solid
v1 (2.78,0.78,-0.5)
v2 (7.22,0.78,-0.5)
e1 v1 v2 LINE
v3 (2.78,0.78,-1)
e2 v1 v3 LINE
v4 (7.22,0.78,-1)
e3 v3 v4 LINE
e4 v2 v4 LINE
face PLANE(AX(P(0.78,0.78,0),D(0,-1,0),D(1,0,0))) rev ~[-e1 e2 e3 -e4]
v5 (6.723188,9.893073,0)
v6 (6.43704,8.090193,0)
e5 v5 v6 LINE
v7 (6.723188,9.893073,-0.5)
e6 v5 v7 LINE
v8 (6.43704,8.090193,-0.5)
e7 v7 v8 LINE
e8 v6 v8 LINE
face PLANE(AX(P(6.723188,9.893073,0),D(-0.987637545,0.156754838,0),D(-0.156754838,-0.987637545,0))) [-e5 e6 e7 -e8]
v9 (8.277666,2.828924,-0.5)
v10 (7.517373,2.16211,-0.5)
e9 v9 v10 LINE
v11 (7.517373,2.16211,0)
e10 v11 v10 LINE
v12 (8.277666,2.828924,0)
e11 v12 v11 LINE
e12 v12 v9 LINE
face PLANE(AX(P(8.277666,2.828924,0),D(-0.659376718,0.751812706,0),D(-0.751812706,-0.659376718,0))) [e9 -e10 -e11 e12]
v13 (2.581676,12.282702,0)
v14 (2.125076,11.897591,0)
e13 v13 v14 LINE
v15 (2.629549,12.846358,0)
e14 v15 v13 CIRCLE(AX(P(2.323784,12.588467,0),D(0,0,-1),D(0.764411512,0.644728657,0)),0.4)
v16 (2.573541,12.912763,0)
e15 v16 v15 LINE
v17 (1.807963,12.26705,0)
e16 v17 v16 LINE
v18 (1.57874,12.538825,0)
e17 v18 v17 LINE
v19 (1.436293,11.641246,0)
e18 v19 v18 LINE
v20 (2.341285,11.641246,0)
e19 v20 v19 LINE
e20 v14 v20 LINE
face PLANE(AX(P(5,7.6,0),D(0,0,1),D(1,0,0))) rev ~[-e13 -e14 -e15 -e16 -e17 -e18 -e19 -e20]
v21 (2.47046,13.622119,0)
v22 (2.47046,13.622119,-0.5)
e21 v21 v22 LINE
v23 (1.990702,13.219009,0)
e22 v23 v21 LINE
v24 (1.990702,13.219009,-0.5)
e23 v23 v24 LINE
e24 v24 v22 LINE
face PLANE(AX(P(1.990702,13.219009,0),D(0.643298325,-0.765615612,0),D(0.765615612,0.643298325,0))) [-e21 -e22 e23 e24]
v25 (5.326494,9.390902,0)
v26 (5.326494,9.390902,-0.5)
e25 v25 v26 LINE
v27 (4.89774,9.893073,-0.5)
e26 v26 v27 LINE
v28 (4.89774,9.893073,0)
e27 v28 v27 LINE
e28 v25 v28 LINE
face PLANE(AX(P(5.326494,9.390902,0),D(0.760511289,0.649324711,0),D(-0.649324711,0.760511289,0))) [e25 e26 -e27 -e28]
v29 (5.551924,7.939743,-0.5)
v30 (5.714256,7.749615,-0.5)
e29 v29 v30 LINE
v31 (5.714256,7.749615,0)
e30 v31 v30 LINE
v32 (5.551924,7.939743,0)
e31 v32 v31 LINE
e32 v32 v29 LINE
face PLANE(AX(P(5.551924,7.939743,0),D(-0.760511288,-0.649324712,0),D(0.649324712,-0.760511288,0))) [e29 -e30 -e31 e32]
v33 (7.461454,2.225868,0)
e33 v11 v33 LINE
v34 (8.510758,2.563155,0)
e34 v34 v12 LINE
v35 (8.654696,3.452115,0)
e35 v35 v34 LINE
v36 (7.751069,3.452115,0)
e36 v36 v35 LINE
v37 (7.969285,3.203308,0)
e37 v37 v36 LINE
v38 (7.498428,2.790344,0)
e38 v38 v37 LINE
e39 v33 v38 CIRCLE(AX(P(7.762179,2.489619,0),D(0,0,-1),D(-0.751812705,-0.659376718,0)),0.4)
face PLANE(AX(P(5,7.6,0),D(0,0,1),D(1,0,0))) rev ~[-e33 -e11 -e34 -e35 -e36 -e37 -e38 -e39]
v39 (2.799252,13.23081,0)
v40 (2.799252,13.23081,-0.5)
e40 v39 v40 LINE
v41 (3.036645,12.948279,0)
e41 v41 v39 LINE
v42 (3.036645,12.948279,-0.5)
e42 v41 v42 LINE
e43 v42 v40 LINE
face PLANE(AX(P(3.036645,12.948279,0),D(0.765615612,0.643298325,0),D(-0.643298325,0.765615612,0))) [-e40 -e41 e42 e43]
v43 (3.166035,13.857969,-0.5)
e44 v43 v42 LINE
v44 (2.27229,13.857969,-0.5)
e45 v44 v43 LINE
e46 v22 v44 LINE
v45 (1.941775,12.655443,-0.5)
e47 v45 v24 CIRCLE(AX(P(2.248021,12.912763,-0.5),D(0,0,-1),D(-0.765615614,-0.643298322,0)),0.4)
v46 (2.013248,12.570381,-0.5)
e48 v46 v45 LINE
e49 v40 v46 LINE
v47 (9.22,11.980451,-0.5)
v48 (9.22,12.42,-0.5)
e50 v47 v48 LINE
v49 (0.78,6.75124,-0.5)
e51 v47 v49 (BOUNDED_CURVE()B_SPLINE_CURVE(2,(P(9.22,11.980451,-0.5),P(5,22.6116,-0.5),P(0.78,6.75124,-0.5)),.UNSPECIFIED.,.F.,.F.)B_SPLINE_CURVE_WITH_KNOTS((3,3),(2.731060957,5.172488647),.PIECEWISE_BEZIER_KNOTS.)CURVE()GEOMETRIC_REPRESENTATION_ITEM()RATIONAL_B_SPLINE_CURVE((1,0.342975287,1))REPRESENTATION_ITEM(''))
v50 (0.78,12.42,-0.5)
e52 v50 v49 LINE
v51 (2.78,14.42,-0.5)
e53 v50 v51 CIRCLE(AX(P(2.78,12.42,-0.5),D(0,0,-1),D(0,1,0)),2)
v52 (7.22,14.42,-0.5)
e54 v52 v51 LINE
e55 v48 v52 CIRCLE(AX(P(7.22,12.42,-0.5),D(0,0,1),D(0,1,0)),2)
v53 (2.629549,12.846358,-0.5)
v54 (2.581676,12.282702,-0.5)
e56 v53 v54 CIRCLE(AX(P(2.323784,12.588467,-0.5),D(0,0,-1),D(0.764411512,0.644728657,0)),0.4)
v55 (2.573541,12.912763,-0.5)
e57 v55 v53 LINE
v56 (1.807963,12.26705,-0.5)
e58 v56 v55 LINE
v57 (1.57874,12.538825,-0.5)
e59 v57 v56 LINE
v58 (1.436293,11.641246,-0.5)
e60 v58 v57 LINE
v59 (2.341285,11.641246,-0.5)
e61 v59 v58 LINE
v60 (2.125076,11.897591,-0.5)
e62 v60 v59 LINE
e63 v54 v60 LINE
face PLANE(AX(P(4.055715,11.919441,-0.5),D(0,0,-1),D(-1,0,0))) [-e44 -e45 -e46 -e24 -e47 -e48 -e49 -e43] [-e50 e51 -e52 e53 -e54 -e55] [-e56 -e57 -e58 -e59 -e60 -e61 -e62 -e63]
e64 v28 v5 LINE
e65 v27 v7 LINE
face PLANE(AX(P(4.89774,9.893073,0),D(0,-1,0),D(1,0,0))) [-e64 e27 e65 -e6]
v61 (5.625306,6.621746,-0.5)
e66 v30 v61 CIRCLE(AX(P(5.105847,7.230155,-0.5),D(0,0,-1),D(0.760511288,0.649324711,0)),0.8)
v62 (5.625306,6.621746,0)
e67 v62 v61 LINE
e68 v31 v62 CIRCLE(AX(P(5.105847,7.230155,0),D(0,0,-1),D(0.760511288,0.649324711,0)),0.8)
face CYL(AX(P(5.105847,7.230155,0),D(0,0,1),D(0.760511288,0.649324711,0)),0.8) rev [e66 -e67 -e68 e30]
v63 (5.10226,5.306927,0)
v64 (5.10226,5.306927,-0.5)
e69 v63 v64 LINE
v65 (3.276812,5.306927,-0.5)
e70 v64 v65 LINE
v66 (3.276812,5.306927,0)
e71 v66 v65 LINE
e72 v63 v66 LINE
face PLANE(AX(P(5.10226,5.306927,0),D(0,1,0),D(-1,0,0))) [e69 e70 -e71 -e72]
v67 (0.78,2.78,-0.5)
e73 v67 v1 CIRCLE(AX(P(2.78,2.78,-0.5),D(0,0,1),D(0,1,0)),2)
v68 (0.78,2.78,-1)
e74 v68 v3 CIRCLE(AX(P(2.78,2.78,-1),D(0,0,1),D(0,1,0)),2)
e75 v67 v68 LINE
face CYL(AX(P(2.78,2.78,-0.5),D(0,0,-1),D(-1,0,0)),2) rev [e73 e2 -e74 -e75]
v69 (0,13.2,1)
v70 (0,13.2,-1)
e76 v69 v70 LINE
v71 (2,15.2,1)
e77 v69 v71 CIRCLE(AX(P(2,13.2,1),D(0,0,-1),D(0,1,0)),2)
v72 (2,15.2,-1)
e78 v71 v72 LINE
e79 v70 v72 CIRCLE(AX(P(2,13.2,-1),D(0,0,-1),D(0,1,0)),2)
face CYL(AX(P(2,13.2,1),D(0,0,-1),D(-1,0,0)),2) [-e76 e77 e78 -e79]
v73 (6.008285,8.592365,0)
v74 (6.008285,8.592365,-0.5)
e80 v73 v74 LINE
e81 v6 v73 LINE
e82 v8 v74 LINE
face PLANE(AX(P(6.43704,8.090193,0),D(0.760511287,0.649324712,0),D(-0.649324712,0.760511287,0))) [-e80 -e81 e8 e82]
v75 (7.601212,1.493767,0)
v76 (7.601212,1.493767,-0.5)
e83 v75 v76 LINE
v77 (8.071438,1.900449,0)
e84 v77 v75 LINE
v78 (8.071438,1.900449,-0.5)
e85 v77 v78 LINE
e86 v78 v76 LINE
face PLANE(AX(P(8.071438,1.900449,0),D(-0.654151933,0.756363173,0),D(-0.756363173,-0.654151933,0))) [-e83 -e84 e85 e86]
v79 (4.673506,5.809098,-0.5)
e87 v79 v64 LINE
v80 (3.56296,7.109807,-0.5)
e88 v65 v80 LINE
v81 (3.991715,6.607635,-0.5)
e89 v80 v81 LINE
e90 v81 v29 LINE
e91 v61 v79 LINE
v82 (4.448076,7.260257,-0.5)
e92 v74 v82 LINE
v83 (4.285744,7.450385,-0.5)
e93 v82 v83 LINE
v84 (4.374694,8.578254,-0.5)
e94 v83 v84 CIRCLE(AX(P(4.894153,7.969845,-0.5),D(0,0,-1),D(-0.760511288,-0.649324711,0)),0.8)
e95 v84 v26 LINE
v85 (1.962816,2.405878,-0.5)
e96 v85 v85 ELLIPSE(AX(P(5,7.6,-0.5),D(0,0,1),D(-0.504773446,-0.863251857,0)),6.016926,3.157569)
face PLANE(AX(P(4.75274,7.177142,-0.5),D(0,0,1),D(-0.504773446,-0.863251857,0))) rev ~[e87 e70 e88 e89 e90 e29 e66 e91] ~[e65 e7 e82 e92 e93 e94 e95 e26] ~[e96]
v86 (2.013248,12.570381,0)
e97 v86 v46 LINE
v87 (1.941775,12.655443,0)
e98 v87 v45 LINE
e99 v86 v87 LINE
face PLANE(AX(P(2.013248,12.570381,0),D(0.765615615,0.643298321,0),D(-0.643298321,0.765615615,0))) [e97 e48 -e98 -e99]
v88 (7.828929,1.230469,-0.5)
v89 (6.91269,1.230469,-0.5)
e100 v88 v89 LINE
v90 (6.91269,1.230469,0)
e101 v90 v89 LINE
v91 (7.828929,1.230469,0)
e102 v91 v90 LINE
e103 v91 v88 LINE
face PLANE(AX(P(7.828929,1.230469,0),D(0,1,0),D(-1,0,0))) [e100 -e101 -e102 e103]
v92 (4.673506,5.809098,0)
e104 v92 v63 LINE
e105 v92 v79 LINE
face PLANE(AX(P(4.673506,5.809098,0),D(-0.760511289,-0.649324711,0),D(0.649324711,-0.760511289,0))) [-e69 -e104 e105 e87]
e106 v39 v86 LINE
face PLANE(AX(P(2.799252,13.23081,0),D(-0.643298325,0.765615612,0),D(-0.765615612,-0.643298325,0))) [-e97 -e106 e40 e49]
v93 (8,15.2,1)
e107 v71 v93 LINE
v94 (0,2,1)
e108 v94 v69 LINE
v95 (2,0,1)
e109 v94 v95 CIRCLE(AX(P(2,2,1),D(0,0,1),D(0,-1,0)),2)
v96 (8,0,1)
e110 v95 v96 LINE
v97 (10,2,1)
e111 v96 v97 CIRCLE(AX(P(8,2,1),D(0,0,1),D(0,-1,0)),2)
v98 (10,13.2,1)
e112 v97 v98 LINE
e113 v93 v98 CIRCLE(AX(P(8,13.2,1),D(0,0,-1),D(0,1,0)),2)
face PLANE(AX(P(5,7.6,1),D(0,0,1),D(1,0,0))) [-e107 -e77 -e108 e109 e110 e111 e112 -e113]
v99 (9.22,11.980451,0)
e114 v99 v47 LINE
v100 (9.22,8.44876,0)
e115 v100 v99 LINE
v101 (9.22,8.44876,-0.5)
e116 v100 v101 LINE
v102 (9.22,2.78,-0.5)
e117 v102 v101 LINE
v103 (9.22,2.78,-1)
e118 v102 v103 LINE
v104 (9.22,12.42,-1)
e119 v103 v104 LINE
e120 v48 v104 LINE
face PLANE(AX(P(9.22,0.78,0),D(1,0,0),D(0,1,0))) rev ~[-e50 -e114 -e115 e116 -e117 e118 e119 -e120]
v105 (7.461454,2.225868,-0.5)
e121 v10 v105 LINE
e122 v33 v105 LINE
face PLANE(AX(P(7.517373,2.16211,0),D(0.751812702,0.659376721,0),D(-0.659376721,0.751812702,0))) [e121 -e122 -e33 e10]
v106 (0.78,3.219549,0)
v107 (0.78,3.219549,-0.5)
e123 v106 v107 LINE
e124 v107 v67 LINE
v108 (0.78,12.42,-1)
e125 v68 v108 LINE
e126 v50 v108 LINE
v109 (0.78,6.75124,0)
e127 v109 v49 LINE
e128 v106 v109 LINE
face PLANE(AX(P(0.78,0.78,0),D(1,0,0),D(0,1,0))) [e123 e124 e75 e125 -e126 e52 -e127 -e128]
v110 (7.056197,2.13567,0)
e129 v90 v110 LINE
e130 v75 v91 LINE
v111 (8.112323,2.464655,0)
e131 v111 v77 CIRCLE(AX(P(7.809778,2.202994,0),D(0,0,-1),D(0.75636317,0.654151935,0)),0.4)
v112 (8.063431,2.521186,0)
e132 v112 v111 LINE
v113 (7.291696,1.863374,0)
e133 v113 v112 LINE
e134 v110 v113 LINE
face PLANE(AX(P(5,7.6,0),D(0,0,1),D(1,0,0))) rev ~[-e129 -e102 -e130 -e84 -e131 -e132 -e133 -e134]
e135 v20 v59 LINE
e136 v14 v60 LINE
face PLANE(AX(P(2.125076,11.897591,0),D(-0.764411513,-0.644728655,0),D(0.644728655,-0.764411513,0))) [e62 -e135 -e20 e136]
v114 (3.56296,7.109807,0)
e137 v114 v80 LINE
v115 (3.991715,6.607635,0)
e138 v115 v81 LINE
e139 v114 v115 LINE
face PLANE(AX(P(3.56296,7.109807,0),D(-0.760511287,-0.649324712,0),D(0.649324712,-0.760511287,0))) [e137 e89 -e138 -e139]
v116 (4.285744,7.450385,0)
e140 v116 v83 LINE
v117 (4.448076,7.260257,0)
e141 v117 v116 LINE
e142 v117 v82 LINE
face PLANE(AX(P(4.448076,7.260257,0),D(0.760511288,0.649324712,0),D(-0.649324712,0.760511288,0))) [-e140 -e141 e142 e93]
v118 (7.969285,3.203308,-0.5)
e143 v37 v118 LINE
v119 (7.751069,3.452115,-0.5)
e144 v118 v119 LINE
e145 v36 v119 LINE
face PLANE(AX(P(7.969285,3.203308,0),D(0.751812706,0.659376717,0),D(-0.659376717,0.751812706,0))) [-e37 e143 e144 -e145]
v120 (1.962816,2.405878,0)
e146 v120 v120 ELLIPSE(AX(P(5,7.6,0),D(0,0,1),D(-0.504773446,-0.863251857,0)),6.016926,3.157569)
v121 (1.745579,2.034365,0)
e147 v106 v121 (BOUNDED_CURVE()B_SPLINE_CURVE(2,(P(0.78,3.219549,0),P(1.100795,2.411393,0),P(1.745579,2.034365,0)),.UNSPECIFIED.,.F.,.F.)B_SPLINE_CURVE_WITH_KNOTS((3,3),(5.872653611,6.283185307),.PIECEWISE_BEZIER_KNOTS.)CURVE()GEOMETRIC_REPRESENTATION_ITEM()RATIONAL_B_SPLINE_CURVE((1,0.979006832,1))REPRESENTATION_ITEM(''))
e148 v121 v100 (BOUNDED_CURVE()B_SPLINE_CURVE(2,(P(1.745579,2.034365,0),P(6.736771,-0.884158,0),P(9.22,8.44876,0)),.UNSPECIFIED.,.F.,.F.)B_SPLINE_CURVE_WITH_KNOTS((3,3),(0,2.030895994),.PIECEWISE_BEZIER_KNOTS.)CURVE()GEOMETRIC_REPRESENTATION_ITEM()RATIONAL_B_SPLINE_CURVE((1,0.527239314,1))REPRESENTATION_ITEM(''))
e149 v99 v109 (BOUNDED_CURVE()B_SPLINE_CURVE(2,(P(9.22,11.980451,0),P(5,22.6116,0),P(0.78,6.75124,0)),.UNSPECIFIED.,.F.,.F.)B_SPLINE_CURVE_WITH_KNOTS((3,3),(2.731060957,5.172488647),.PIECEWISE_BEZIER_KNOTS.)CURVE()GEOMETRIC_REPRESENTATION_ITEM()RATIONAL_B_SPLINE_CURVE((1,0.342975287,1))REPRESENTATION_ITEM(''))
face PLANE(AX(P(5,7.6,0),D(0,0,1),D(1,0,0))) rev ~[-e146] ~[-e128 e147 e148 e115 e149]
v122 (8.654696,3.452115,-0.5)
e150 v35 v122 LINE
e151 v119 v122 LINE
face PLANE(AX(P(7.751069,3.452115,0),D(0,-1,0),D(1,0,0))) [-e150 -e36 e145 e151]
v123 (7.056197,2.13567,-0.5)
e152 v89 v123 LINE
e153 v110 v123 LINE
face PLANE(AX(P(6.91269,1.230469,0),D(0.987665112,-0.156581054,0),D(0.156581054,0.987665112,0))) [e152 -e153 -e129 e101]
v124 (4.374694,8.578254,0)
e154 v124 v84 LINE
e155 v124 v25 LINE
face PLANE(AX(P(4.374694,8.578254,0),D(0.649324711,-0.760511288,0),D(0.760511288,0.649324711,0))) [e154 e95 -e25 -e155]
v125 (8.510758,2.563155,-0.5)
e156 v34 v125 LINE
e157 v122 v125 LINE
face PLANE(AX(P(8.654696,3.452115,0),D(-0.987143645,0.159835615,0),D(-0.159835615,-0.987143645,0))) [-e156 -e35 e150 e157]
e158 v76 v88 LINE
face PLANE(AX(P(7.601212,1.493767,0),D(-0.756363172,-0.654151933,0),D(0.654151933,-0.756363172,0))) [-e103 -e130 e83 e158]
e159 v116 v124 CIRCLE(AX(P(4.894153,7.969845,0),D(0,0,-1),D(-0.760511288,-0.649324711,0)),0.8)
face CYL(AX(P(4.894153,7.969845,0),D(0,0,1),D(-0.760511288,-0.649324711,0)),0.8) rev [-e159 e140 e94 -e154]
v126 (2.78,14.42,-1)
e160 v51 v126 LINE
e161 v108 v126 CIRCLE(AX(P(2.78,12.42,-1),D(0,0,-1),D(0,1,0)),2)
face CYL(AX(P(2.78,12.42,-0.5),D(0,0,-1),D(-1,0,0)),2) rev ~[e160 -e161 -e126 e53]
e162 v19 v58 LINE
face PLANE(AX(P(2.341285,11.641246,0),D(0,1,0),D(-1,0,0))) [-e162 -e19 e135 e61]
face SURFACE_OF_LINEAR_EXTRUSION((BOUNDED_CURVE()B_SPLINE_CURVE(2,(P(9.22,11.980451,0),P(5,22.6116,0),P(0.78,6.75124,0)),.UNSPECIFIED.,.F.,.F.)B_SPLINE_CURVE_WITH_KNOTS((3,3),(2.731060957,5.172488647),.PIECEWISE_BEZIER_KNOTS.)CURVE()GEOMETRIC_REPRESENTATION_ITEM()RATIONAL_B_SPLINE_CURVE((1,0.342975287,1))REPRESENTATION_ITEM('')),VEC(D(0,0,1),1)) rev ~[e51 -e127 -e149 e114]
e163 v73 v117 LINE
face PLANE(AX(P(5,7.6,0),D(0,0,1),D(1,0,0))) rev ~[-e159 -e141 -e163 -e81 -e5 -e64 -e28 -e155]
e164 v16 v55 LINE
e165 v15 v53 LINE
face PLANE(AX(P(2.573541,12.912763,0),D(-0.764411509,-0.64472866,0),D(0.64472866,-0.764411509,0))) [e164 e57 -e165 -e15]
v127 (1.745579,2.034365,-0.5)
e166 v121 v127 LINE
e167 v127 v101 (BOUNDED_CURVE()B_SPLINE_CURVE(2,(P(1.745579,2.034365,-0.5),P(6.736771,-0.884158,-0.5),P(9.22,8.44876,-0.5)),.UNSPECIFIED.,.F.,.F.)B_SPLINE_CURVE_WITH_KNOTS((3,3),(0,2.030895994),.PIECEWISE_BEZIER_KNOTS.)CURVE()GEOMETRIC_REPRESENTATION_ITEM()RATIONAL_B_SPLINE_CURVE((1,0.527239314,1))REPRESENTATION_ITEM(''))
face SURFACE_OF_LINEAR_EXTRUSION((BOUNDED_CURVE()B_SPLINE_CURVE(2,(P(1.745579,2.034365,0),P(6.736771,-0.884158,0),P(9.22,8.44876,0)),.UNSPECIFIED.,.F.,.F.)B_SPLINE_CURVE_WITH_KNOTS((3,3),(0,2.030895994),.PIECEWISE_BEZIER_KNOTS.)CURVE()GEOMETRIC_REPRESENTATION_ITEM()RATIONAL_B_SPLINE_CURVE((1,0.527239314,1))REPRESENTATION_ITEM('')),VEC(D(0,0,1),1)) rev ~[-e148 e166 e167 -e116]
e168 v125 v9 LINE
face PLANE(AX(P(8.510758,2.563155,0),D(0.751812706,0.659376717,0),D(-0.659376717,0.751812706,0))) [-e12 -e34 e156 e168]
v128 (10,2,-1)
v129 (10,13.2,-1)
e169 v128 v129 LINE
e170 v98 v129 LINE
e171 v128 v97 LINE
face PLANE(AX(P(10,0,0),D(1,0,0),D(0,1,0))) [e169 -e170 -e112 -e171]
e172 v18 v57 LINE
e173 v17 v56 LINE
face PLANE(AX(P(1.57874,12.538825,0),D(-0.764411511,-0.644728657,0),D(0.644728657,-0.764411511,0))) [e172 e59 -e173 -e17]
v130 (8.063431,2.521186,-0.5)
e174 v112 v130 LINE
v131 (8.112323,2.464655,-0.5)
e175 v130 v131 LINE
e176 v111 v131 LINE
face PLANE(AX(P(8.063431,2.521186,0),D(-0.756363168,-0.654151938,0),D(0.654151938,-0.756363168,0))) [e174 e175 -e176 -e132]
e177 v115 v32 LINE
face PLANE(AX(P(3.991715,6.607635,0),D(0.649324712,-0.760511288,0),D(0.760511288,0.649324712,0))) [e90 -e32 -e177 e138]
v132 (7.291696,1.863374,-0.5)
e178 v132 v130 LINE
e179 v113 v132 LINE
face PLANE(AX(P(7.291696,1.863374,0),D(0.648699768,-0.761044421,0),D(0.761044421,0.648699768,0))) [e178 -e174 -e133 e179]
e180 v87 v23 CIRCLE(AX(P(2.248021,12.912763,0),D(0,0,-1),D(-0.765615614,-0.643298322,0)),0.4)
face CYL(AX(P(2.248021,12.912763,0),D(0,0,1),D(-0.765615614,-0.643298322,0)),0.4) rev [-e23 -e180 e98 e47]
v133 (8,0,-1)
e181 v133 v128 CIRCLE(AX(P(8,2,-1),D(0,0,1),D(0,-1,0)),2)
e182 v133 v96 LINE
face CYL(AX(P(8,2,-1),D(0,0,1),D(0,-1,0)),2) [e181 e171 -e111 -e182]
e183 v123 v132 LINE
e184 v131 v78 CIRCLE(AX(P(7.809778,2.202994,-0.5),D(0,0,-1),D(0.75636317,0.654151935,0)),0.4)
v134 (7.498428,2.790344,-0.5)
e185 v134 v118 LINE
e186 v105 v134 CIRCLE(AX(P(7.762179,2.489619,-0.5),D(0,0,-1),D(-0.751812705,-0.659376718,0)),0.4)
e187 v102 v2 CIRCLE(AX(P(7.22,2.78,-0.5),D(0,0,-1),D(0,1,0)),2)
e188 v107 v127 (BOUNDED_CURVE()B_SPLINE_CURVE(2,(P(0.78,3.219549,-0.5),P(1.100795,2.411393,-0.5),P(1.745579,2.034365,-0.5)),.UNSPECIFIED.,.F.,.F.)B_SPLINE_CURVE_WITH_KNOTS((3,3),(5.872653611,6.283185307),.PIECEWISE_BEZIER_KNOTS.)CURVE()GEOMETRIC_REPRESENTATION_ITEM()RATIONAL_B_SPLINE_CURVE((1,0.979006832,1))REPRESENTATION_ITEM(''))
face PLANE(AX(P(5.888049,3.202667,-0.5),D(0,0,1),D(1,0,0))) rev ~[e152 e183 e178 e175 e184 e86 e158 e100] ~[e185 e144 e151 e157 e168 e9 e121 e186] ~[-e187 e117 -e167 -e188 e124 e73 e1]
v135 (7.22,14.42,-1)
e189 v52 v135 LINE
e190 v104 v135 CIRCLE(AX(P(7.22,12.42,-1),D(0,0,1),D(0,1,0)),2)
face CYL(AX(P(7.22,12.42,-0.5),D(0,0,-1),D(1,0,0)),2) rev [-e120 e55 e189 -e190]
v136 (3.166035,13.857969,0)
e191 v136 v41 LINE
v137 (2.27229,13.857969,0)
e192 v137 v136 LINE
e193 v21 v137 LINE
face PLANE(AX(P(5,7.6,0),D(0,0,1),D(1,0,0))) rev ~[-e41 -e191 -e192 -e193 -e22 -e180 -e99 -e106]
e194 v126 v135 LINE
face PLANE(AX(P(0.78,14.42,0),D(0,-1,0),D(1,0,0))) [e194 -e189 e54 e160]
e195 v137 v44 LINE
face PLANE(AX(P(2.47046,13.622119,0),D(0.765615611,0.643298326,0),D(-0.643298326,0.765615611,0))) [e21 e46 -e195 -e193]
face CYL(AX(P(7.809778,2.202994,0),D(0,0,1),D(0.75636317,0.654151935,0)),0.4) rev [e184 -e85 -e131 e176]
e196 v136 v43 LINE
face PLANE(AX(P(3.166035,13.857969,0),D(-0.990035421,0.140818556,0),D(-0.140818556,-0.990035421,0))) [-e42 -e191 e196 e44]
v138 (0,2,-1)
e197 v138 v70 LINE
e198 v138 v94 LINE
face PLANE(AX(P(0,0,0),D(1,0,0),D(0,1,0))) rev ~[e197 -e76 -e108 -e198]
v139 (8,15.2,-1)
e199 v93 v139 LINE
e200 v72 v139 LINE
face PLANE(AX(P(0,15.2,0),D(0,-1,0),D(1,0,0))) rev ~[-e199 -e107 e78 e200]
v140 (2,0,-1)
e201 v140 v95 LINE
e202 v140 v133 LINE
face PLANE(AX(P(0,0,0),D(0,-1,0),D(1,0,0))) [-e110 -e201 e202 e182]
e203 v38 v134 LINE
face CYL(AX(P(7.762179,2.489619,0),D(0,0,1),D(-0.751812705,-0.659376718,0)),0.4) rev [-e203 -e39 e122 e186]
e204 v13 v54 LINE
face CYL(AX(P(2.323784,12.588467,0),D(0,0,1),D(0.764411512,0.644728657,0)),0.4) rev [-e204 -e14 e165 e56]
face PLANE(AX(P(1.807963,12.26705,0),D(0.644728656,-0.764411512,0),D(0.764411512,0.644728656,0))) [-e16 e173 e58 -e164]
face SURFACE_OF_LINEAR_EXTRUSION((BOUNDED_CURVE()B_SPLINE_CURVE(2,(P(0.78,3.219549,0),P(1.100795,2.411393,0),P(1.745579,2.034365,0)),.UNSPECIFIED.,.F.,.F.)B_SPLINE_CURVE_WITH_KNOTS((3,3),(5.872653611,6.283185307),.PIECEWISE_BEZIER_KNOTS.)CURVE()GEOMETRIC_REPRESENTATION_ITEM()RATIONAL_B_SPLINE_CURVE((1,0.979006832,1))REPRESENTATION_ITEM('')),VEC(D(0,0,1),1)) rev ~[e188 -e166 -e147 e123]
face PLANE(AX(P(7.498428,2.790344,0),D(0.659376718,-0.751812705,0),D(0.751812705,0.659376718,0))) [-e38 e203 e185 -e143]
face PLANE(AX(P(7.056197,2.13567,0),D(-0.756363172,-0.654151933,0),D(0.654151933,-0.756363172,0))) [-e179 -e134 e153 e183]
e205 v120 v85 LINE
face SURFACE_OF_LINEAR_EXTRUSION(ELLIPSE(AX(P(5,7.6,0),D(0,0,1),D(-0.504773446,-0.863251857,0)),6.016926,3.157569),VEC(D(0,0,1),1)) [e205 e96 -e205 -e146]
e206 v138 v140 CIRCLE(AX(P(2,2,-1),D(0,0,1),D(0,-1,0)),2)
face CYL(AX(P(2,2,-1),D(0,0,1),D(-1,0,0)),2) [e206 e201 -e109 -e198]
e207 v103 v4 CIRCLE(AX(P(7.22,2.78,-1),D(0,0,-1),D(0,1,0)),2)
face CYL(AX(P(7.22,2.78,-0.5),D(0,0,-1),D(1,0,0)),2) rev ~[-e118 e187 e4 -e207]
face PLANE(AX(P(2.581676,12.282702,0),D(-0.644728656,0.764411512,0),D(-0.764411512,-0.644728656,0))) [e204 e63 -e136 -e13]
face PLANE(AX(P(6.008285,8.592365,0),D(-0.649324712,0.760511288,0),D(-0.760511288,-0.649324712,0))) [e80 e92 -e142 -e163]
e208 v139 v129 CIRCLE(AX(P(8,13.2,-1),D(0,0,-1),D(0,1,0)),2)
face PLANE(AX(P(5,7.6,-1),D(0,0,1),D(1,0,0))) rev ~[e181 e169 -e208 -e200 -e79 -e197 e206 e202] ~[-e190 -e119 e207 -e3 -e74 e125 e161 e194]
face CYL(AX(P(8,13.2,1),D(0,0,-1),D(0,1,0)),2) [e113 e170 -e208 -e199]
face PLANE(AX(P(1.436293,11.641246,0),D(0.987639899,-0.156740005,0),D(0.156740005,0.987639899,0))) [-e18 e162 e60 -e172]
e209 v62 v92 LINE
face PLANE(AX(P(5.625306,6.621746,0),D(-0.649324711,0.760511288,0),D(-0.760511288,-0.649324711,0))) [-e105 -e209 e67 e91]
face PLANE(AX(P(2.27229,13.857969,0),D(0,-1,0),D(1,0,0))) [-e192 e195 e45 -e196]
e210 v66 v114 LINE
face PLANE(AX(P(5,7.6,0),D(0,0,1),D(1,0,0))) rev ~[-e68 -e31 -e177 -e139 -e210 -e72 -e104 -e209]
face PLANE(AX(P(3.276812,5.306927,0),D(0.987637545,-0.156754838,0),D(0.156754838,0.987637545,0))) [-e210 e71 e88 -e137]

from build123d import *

# Parameters (mm, degrees)
SKETCH1_W           = 10
SKETCH1_H           = 15.2
BOSS_EXTRUDE1_DEPTH = 1
SKETCH1_8_W         = 10
SKETCH1_8_H         = 15.2
SKETCH1_8_W_2       = 8.44
SKETCH1_8_H_2       = 13.64
BOSS_EXTRUDE2_DEPTH = 1
SKETCH1_9_RX        = 6.016925947
SKETCH1_9_RY        = 3.157568793
BOSS_EXTRUDE3_DEPTH = 0.5
FILLET1_R           = 2


with BuildPart() as part:
    # Sketch1 (on Front Plane) → Boss-Extrude1 (new body)
    with BuildSketch(Plane.XY):
        with Locations((5, 7.6)):
            Rectangle(SKETCH1_W, SKETCH1_H)
    extrude(amount=BOSS_EXTRUDE1_DEPTH)

    # Sketch1<8> (on Front Plane) → Boss-Extrude2 (add)
    with BuildSketch(Plane.XY):
        with Locations((5, 7.6)):
            Rectangle(SKETCH1_8_W, SKETCH1_8_H)
        with Locations((5, 7.6)):
            Rectangle(SKETCH1_8_W_2, SKETCH1_8_H_2, mode=Mode.SUBTRACT)
    extrude(amount=-BOSS_EXTRUDE2_DEPTH)

    # Sketch1<9> (on Front Plane) → Boss-Extrude3 (add)
    # profile 1 of 3: a face of its own
    with BuildSketch(Plane.XY):
        with Locations(Location((5, 7.6), (0, 0, -120.316314342))):
            Ellipse(SKETCH1_9_RX, SKETCH1_9_RY)
        with BuildLine():
            Line((5.55192436, 7.939742657), (5.714255538, 7.749614835))
            ThreePointArc((5.714255538, 7.749614835), (5.903370184, 7.16725844), (5.625306277, 6.621746036))
            Line((5.625306277, 6.621746036), (4.673505596, 5.809098397))
            Line((4.673505596, 5.809098397), (5.102260043, 5.306926538))
            Line((5.102260043, 5.306926538), (3.276812461, 5.306926538))
            Line((3.276812461, 5.306926538), (3.562960201, 7.109807107))
            Line((3.562960201, 7.109807107), (3.991714649, 6.607635249))
            Line((3.991714649, 6.607635249), (5.55192436, 7.939742657))
        make_face(mode=Mode.SUBTRACT)
        with BuildLine():
            Line((4.44807564, 7.260257343), (4.285744462, 7.450385165))
            ThreePointArc((4.285744462, 7.450385165), (4.096629816, 8.03274156), (4.374693723, 8.578253964))
            Line((4.374693723, 8.578253964), (5.326494404, 9.390901603))
            Line((5.326494404, 9.390901603), (4.897739957, 9.893073462))
            Line((4.897739957, 9.893073462), (6.723187539, 9.893073462))
            Line((6.723187539, 9.893073462), (6.437039799, 8.090192893))
            Line((6.437039799, 8.090192893), (6.008285351, 8.592364751))
            Line((6.008285351, 8.592364751), (4.44807564, 7.260257343))
        make_face(mode=Mode.SUBTRACT)
    # profile 2 of 3: a face of its own
    with BuildSketch(Plane.XY):
        with BuildLine():
            add(Edge.make_bspline(
                [(9.22, 11.980450807), (5, 22.611600433), (0.78, 6.751239794)],
                knots=[2.731060957, 2.731060957, 2.731060957, 5.172488647, 5.172488647, 5.172488647], degree=2, weights=[1, 0.342975287, 1]))
            Line((9.22, 11.980450807), (9.22, 14.42))
            Line((9.22, 14.42), (0.78, 14.42))
            Line((0.78, 14.42), (0.78, 6.751239794))
        make_face()
        with BuildLine():
            Line((1.807963278, 12.267050426), (2.573541086, 12.912762773))
            Line((2.573541086, 12.912762773), (2.629548837, 12.846358141))
            ThreePointArc((2.629548837, 12.846358141), (2.72234926, 12.554615255), (2.581675695, 12.282702073))
            Line((2.581675695, 12.282702073), (2.125075804, 11.897591397))
            Line((2.125075804, 11.897591397), (2.341285421, 11.641246159))
            Line((2.341285421, 11.641246159), (1.436292724, 11.641246159))
            Line((1.436292724, 11.641246159), (1.578739925, 12.538825176))
            Line((1.578739925, 12.538825176), (1.807963278, 12.267050426))
        make_face(mode=Mode.SUBTRACT)
        with BuildLine():
            Line((2.79925212, 13.230809928), (2.013248175, 12.570380578))
            Line((2.013248175, 12.570380578), (1.941775235, 12.655443444))
            ThreePointArc((1.941775235, 12.655443444), (1.849520441, 12.947359327), (1.99070215, 13.219009018))
            Line((1.99070215, 13.219009018), (2.47045985, 13.622119038))
            Line((2.47045985, 13.622119038), (2.272289715, 13.857969409))
            Line((2.272289715, 13.857969409), (3.166035288, 13.857969409))
            Line((3.166035288, 13.857969409), (3.036644718, 12.948279301))
            Line((3.036644718, 12.948279301), (2.79925212, 13.230809928))
        make_face(mode=Mode.SUBTRACT)
    # profile 3 of 3: a face of its own
    with BuildSketch(Plane.XY):
        with BuildLine():
            Line((0.78, 0.78), (9.22, 0.78))
            Line((9.22, 0.78), (9.22, 8.448760206))
            add(Edge.make_bspline(
                [(1.745579435, 2.034365319), (6.736770522, -0.884158057), (9.22, 8.448760206)],
                knots=[0, 0, 0, 2.030895994, 2.030895994, 2.030895994], degree=2, weights=[1, 0.527239314, 1]))
            add(Edge.make_bspline(
                [(0.78, 3.219549193), (1.100794809, 2.411393361), (1.745579435, 2.034365319)],
                knots=[5.872653611, 5.872653611, 5.872653611, 6.283185307, 6.283185307, 6.283185307], degree=2, weights=[1, 0.979006832, 1]))
            Line((0.78, 3.219549193), (0.78, 0.78))
        make_face()
        with BuildLine():
            Line((7.056197058, 2.135669885), (7.291696407, 1.863373763))
            Line((7.291696407, 1.863373763), (8.063431346, 2.521185925))
            Line((8.063431346, 2.521185925), (8.112322941, 2.464655019))
            ThreePointArc((8.112322941, 2.464655019), (8.208731591, 2.174084541), (8.071438446, 1.900448977))
            Line((8.071438446, 1.900448977), (7.601212367, 1.493766963))
            Line((7.601212367, 1.493766963), (7.828929297, 1.230469263))
            Line((7.828929297, 1.230469263), (6.912689643, 1.230469263))
            Line((6.912689643, 1.230469263), (7.056197058, 2.135669885))
        make_face(mode=Mode.SUBTRACT)
        with BuildLine():
            Line((8.277665846, 2.828924058), (7.517372897, 2.16210975))
            Line((7.517372897, 2.16210975), (7.461453822, 2.225867947))
            ThreePointArc((7.461453822, 2.225867947), (7.36303426, 2.515763479), (7.498428218, 2.790343716))
            Line((7.498428218, 2.790343716), (7.969285134, 3.203308389))
            Line((7.969285134, 3.203308389), (7.7510695, 3.452115))
            Line((7.7510695, 3.452115), (8.654696366, 3.452115))
            Line((8.654696366, 3.452115), (8.51075838, 2.563155))
            Line((8.51075838, 2.563155), (8.277665846, 2.828924058))
        make_face(mode=Mode.SUBTRACT)
    extrude(amount=-BOSS_EXTRUDE3_DEPTH)

    # Fillet1
    fillet1_edges = [part.edges().sort_by_distance(p)[0] for p in [
        (0.78, 0.78, -0.75),
        (0.78, 14.42, -0.75),
        (9.22, 14.42, -0.75),
        (9.22, 0.78, -0.75),
        (0, 15.2, 0),
        (0, 0, 0),
        (10, 0, 0),
        (10, 15.2, 0),
    ]]
    fillet(fillet1_edges, radius=FILLET1_R)


solid = part.part
